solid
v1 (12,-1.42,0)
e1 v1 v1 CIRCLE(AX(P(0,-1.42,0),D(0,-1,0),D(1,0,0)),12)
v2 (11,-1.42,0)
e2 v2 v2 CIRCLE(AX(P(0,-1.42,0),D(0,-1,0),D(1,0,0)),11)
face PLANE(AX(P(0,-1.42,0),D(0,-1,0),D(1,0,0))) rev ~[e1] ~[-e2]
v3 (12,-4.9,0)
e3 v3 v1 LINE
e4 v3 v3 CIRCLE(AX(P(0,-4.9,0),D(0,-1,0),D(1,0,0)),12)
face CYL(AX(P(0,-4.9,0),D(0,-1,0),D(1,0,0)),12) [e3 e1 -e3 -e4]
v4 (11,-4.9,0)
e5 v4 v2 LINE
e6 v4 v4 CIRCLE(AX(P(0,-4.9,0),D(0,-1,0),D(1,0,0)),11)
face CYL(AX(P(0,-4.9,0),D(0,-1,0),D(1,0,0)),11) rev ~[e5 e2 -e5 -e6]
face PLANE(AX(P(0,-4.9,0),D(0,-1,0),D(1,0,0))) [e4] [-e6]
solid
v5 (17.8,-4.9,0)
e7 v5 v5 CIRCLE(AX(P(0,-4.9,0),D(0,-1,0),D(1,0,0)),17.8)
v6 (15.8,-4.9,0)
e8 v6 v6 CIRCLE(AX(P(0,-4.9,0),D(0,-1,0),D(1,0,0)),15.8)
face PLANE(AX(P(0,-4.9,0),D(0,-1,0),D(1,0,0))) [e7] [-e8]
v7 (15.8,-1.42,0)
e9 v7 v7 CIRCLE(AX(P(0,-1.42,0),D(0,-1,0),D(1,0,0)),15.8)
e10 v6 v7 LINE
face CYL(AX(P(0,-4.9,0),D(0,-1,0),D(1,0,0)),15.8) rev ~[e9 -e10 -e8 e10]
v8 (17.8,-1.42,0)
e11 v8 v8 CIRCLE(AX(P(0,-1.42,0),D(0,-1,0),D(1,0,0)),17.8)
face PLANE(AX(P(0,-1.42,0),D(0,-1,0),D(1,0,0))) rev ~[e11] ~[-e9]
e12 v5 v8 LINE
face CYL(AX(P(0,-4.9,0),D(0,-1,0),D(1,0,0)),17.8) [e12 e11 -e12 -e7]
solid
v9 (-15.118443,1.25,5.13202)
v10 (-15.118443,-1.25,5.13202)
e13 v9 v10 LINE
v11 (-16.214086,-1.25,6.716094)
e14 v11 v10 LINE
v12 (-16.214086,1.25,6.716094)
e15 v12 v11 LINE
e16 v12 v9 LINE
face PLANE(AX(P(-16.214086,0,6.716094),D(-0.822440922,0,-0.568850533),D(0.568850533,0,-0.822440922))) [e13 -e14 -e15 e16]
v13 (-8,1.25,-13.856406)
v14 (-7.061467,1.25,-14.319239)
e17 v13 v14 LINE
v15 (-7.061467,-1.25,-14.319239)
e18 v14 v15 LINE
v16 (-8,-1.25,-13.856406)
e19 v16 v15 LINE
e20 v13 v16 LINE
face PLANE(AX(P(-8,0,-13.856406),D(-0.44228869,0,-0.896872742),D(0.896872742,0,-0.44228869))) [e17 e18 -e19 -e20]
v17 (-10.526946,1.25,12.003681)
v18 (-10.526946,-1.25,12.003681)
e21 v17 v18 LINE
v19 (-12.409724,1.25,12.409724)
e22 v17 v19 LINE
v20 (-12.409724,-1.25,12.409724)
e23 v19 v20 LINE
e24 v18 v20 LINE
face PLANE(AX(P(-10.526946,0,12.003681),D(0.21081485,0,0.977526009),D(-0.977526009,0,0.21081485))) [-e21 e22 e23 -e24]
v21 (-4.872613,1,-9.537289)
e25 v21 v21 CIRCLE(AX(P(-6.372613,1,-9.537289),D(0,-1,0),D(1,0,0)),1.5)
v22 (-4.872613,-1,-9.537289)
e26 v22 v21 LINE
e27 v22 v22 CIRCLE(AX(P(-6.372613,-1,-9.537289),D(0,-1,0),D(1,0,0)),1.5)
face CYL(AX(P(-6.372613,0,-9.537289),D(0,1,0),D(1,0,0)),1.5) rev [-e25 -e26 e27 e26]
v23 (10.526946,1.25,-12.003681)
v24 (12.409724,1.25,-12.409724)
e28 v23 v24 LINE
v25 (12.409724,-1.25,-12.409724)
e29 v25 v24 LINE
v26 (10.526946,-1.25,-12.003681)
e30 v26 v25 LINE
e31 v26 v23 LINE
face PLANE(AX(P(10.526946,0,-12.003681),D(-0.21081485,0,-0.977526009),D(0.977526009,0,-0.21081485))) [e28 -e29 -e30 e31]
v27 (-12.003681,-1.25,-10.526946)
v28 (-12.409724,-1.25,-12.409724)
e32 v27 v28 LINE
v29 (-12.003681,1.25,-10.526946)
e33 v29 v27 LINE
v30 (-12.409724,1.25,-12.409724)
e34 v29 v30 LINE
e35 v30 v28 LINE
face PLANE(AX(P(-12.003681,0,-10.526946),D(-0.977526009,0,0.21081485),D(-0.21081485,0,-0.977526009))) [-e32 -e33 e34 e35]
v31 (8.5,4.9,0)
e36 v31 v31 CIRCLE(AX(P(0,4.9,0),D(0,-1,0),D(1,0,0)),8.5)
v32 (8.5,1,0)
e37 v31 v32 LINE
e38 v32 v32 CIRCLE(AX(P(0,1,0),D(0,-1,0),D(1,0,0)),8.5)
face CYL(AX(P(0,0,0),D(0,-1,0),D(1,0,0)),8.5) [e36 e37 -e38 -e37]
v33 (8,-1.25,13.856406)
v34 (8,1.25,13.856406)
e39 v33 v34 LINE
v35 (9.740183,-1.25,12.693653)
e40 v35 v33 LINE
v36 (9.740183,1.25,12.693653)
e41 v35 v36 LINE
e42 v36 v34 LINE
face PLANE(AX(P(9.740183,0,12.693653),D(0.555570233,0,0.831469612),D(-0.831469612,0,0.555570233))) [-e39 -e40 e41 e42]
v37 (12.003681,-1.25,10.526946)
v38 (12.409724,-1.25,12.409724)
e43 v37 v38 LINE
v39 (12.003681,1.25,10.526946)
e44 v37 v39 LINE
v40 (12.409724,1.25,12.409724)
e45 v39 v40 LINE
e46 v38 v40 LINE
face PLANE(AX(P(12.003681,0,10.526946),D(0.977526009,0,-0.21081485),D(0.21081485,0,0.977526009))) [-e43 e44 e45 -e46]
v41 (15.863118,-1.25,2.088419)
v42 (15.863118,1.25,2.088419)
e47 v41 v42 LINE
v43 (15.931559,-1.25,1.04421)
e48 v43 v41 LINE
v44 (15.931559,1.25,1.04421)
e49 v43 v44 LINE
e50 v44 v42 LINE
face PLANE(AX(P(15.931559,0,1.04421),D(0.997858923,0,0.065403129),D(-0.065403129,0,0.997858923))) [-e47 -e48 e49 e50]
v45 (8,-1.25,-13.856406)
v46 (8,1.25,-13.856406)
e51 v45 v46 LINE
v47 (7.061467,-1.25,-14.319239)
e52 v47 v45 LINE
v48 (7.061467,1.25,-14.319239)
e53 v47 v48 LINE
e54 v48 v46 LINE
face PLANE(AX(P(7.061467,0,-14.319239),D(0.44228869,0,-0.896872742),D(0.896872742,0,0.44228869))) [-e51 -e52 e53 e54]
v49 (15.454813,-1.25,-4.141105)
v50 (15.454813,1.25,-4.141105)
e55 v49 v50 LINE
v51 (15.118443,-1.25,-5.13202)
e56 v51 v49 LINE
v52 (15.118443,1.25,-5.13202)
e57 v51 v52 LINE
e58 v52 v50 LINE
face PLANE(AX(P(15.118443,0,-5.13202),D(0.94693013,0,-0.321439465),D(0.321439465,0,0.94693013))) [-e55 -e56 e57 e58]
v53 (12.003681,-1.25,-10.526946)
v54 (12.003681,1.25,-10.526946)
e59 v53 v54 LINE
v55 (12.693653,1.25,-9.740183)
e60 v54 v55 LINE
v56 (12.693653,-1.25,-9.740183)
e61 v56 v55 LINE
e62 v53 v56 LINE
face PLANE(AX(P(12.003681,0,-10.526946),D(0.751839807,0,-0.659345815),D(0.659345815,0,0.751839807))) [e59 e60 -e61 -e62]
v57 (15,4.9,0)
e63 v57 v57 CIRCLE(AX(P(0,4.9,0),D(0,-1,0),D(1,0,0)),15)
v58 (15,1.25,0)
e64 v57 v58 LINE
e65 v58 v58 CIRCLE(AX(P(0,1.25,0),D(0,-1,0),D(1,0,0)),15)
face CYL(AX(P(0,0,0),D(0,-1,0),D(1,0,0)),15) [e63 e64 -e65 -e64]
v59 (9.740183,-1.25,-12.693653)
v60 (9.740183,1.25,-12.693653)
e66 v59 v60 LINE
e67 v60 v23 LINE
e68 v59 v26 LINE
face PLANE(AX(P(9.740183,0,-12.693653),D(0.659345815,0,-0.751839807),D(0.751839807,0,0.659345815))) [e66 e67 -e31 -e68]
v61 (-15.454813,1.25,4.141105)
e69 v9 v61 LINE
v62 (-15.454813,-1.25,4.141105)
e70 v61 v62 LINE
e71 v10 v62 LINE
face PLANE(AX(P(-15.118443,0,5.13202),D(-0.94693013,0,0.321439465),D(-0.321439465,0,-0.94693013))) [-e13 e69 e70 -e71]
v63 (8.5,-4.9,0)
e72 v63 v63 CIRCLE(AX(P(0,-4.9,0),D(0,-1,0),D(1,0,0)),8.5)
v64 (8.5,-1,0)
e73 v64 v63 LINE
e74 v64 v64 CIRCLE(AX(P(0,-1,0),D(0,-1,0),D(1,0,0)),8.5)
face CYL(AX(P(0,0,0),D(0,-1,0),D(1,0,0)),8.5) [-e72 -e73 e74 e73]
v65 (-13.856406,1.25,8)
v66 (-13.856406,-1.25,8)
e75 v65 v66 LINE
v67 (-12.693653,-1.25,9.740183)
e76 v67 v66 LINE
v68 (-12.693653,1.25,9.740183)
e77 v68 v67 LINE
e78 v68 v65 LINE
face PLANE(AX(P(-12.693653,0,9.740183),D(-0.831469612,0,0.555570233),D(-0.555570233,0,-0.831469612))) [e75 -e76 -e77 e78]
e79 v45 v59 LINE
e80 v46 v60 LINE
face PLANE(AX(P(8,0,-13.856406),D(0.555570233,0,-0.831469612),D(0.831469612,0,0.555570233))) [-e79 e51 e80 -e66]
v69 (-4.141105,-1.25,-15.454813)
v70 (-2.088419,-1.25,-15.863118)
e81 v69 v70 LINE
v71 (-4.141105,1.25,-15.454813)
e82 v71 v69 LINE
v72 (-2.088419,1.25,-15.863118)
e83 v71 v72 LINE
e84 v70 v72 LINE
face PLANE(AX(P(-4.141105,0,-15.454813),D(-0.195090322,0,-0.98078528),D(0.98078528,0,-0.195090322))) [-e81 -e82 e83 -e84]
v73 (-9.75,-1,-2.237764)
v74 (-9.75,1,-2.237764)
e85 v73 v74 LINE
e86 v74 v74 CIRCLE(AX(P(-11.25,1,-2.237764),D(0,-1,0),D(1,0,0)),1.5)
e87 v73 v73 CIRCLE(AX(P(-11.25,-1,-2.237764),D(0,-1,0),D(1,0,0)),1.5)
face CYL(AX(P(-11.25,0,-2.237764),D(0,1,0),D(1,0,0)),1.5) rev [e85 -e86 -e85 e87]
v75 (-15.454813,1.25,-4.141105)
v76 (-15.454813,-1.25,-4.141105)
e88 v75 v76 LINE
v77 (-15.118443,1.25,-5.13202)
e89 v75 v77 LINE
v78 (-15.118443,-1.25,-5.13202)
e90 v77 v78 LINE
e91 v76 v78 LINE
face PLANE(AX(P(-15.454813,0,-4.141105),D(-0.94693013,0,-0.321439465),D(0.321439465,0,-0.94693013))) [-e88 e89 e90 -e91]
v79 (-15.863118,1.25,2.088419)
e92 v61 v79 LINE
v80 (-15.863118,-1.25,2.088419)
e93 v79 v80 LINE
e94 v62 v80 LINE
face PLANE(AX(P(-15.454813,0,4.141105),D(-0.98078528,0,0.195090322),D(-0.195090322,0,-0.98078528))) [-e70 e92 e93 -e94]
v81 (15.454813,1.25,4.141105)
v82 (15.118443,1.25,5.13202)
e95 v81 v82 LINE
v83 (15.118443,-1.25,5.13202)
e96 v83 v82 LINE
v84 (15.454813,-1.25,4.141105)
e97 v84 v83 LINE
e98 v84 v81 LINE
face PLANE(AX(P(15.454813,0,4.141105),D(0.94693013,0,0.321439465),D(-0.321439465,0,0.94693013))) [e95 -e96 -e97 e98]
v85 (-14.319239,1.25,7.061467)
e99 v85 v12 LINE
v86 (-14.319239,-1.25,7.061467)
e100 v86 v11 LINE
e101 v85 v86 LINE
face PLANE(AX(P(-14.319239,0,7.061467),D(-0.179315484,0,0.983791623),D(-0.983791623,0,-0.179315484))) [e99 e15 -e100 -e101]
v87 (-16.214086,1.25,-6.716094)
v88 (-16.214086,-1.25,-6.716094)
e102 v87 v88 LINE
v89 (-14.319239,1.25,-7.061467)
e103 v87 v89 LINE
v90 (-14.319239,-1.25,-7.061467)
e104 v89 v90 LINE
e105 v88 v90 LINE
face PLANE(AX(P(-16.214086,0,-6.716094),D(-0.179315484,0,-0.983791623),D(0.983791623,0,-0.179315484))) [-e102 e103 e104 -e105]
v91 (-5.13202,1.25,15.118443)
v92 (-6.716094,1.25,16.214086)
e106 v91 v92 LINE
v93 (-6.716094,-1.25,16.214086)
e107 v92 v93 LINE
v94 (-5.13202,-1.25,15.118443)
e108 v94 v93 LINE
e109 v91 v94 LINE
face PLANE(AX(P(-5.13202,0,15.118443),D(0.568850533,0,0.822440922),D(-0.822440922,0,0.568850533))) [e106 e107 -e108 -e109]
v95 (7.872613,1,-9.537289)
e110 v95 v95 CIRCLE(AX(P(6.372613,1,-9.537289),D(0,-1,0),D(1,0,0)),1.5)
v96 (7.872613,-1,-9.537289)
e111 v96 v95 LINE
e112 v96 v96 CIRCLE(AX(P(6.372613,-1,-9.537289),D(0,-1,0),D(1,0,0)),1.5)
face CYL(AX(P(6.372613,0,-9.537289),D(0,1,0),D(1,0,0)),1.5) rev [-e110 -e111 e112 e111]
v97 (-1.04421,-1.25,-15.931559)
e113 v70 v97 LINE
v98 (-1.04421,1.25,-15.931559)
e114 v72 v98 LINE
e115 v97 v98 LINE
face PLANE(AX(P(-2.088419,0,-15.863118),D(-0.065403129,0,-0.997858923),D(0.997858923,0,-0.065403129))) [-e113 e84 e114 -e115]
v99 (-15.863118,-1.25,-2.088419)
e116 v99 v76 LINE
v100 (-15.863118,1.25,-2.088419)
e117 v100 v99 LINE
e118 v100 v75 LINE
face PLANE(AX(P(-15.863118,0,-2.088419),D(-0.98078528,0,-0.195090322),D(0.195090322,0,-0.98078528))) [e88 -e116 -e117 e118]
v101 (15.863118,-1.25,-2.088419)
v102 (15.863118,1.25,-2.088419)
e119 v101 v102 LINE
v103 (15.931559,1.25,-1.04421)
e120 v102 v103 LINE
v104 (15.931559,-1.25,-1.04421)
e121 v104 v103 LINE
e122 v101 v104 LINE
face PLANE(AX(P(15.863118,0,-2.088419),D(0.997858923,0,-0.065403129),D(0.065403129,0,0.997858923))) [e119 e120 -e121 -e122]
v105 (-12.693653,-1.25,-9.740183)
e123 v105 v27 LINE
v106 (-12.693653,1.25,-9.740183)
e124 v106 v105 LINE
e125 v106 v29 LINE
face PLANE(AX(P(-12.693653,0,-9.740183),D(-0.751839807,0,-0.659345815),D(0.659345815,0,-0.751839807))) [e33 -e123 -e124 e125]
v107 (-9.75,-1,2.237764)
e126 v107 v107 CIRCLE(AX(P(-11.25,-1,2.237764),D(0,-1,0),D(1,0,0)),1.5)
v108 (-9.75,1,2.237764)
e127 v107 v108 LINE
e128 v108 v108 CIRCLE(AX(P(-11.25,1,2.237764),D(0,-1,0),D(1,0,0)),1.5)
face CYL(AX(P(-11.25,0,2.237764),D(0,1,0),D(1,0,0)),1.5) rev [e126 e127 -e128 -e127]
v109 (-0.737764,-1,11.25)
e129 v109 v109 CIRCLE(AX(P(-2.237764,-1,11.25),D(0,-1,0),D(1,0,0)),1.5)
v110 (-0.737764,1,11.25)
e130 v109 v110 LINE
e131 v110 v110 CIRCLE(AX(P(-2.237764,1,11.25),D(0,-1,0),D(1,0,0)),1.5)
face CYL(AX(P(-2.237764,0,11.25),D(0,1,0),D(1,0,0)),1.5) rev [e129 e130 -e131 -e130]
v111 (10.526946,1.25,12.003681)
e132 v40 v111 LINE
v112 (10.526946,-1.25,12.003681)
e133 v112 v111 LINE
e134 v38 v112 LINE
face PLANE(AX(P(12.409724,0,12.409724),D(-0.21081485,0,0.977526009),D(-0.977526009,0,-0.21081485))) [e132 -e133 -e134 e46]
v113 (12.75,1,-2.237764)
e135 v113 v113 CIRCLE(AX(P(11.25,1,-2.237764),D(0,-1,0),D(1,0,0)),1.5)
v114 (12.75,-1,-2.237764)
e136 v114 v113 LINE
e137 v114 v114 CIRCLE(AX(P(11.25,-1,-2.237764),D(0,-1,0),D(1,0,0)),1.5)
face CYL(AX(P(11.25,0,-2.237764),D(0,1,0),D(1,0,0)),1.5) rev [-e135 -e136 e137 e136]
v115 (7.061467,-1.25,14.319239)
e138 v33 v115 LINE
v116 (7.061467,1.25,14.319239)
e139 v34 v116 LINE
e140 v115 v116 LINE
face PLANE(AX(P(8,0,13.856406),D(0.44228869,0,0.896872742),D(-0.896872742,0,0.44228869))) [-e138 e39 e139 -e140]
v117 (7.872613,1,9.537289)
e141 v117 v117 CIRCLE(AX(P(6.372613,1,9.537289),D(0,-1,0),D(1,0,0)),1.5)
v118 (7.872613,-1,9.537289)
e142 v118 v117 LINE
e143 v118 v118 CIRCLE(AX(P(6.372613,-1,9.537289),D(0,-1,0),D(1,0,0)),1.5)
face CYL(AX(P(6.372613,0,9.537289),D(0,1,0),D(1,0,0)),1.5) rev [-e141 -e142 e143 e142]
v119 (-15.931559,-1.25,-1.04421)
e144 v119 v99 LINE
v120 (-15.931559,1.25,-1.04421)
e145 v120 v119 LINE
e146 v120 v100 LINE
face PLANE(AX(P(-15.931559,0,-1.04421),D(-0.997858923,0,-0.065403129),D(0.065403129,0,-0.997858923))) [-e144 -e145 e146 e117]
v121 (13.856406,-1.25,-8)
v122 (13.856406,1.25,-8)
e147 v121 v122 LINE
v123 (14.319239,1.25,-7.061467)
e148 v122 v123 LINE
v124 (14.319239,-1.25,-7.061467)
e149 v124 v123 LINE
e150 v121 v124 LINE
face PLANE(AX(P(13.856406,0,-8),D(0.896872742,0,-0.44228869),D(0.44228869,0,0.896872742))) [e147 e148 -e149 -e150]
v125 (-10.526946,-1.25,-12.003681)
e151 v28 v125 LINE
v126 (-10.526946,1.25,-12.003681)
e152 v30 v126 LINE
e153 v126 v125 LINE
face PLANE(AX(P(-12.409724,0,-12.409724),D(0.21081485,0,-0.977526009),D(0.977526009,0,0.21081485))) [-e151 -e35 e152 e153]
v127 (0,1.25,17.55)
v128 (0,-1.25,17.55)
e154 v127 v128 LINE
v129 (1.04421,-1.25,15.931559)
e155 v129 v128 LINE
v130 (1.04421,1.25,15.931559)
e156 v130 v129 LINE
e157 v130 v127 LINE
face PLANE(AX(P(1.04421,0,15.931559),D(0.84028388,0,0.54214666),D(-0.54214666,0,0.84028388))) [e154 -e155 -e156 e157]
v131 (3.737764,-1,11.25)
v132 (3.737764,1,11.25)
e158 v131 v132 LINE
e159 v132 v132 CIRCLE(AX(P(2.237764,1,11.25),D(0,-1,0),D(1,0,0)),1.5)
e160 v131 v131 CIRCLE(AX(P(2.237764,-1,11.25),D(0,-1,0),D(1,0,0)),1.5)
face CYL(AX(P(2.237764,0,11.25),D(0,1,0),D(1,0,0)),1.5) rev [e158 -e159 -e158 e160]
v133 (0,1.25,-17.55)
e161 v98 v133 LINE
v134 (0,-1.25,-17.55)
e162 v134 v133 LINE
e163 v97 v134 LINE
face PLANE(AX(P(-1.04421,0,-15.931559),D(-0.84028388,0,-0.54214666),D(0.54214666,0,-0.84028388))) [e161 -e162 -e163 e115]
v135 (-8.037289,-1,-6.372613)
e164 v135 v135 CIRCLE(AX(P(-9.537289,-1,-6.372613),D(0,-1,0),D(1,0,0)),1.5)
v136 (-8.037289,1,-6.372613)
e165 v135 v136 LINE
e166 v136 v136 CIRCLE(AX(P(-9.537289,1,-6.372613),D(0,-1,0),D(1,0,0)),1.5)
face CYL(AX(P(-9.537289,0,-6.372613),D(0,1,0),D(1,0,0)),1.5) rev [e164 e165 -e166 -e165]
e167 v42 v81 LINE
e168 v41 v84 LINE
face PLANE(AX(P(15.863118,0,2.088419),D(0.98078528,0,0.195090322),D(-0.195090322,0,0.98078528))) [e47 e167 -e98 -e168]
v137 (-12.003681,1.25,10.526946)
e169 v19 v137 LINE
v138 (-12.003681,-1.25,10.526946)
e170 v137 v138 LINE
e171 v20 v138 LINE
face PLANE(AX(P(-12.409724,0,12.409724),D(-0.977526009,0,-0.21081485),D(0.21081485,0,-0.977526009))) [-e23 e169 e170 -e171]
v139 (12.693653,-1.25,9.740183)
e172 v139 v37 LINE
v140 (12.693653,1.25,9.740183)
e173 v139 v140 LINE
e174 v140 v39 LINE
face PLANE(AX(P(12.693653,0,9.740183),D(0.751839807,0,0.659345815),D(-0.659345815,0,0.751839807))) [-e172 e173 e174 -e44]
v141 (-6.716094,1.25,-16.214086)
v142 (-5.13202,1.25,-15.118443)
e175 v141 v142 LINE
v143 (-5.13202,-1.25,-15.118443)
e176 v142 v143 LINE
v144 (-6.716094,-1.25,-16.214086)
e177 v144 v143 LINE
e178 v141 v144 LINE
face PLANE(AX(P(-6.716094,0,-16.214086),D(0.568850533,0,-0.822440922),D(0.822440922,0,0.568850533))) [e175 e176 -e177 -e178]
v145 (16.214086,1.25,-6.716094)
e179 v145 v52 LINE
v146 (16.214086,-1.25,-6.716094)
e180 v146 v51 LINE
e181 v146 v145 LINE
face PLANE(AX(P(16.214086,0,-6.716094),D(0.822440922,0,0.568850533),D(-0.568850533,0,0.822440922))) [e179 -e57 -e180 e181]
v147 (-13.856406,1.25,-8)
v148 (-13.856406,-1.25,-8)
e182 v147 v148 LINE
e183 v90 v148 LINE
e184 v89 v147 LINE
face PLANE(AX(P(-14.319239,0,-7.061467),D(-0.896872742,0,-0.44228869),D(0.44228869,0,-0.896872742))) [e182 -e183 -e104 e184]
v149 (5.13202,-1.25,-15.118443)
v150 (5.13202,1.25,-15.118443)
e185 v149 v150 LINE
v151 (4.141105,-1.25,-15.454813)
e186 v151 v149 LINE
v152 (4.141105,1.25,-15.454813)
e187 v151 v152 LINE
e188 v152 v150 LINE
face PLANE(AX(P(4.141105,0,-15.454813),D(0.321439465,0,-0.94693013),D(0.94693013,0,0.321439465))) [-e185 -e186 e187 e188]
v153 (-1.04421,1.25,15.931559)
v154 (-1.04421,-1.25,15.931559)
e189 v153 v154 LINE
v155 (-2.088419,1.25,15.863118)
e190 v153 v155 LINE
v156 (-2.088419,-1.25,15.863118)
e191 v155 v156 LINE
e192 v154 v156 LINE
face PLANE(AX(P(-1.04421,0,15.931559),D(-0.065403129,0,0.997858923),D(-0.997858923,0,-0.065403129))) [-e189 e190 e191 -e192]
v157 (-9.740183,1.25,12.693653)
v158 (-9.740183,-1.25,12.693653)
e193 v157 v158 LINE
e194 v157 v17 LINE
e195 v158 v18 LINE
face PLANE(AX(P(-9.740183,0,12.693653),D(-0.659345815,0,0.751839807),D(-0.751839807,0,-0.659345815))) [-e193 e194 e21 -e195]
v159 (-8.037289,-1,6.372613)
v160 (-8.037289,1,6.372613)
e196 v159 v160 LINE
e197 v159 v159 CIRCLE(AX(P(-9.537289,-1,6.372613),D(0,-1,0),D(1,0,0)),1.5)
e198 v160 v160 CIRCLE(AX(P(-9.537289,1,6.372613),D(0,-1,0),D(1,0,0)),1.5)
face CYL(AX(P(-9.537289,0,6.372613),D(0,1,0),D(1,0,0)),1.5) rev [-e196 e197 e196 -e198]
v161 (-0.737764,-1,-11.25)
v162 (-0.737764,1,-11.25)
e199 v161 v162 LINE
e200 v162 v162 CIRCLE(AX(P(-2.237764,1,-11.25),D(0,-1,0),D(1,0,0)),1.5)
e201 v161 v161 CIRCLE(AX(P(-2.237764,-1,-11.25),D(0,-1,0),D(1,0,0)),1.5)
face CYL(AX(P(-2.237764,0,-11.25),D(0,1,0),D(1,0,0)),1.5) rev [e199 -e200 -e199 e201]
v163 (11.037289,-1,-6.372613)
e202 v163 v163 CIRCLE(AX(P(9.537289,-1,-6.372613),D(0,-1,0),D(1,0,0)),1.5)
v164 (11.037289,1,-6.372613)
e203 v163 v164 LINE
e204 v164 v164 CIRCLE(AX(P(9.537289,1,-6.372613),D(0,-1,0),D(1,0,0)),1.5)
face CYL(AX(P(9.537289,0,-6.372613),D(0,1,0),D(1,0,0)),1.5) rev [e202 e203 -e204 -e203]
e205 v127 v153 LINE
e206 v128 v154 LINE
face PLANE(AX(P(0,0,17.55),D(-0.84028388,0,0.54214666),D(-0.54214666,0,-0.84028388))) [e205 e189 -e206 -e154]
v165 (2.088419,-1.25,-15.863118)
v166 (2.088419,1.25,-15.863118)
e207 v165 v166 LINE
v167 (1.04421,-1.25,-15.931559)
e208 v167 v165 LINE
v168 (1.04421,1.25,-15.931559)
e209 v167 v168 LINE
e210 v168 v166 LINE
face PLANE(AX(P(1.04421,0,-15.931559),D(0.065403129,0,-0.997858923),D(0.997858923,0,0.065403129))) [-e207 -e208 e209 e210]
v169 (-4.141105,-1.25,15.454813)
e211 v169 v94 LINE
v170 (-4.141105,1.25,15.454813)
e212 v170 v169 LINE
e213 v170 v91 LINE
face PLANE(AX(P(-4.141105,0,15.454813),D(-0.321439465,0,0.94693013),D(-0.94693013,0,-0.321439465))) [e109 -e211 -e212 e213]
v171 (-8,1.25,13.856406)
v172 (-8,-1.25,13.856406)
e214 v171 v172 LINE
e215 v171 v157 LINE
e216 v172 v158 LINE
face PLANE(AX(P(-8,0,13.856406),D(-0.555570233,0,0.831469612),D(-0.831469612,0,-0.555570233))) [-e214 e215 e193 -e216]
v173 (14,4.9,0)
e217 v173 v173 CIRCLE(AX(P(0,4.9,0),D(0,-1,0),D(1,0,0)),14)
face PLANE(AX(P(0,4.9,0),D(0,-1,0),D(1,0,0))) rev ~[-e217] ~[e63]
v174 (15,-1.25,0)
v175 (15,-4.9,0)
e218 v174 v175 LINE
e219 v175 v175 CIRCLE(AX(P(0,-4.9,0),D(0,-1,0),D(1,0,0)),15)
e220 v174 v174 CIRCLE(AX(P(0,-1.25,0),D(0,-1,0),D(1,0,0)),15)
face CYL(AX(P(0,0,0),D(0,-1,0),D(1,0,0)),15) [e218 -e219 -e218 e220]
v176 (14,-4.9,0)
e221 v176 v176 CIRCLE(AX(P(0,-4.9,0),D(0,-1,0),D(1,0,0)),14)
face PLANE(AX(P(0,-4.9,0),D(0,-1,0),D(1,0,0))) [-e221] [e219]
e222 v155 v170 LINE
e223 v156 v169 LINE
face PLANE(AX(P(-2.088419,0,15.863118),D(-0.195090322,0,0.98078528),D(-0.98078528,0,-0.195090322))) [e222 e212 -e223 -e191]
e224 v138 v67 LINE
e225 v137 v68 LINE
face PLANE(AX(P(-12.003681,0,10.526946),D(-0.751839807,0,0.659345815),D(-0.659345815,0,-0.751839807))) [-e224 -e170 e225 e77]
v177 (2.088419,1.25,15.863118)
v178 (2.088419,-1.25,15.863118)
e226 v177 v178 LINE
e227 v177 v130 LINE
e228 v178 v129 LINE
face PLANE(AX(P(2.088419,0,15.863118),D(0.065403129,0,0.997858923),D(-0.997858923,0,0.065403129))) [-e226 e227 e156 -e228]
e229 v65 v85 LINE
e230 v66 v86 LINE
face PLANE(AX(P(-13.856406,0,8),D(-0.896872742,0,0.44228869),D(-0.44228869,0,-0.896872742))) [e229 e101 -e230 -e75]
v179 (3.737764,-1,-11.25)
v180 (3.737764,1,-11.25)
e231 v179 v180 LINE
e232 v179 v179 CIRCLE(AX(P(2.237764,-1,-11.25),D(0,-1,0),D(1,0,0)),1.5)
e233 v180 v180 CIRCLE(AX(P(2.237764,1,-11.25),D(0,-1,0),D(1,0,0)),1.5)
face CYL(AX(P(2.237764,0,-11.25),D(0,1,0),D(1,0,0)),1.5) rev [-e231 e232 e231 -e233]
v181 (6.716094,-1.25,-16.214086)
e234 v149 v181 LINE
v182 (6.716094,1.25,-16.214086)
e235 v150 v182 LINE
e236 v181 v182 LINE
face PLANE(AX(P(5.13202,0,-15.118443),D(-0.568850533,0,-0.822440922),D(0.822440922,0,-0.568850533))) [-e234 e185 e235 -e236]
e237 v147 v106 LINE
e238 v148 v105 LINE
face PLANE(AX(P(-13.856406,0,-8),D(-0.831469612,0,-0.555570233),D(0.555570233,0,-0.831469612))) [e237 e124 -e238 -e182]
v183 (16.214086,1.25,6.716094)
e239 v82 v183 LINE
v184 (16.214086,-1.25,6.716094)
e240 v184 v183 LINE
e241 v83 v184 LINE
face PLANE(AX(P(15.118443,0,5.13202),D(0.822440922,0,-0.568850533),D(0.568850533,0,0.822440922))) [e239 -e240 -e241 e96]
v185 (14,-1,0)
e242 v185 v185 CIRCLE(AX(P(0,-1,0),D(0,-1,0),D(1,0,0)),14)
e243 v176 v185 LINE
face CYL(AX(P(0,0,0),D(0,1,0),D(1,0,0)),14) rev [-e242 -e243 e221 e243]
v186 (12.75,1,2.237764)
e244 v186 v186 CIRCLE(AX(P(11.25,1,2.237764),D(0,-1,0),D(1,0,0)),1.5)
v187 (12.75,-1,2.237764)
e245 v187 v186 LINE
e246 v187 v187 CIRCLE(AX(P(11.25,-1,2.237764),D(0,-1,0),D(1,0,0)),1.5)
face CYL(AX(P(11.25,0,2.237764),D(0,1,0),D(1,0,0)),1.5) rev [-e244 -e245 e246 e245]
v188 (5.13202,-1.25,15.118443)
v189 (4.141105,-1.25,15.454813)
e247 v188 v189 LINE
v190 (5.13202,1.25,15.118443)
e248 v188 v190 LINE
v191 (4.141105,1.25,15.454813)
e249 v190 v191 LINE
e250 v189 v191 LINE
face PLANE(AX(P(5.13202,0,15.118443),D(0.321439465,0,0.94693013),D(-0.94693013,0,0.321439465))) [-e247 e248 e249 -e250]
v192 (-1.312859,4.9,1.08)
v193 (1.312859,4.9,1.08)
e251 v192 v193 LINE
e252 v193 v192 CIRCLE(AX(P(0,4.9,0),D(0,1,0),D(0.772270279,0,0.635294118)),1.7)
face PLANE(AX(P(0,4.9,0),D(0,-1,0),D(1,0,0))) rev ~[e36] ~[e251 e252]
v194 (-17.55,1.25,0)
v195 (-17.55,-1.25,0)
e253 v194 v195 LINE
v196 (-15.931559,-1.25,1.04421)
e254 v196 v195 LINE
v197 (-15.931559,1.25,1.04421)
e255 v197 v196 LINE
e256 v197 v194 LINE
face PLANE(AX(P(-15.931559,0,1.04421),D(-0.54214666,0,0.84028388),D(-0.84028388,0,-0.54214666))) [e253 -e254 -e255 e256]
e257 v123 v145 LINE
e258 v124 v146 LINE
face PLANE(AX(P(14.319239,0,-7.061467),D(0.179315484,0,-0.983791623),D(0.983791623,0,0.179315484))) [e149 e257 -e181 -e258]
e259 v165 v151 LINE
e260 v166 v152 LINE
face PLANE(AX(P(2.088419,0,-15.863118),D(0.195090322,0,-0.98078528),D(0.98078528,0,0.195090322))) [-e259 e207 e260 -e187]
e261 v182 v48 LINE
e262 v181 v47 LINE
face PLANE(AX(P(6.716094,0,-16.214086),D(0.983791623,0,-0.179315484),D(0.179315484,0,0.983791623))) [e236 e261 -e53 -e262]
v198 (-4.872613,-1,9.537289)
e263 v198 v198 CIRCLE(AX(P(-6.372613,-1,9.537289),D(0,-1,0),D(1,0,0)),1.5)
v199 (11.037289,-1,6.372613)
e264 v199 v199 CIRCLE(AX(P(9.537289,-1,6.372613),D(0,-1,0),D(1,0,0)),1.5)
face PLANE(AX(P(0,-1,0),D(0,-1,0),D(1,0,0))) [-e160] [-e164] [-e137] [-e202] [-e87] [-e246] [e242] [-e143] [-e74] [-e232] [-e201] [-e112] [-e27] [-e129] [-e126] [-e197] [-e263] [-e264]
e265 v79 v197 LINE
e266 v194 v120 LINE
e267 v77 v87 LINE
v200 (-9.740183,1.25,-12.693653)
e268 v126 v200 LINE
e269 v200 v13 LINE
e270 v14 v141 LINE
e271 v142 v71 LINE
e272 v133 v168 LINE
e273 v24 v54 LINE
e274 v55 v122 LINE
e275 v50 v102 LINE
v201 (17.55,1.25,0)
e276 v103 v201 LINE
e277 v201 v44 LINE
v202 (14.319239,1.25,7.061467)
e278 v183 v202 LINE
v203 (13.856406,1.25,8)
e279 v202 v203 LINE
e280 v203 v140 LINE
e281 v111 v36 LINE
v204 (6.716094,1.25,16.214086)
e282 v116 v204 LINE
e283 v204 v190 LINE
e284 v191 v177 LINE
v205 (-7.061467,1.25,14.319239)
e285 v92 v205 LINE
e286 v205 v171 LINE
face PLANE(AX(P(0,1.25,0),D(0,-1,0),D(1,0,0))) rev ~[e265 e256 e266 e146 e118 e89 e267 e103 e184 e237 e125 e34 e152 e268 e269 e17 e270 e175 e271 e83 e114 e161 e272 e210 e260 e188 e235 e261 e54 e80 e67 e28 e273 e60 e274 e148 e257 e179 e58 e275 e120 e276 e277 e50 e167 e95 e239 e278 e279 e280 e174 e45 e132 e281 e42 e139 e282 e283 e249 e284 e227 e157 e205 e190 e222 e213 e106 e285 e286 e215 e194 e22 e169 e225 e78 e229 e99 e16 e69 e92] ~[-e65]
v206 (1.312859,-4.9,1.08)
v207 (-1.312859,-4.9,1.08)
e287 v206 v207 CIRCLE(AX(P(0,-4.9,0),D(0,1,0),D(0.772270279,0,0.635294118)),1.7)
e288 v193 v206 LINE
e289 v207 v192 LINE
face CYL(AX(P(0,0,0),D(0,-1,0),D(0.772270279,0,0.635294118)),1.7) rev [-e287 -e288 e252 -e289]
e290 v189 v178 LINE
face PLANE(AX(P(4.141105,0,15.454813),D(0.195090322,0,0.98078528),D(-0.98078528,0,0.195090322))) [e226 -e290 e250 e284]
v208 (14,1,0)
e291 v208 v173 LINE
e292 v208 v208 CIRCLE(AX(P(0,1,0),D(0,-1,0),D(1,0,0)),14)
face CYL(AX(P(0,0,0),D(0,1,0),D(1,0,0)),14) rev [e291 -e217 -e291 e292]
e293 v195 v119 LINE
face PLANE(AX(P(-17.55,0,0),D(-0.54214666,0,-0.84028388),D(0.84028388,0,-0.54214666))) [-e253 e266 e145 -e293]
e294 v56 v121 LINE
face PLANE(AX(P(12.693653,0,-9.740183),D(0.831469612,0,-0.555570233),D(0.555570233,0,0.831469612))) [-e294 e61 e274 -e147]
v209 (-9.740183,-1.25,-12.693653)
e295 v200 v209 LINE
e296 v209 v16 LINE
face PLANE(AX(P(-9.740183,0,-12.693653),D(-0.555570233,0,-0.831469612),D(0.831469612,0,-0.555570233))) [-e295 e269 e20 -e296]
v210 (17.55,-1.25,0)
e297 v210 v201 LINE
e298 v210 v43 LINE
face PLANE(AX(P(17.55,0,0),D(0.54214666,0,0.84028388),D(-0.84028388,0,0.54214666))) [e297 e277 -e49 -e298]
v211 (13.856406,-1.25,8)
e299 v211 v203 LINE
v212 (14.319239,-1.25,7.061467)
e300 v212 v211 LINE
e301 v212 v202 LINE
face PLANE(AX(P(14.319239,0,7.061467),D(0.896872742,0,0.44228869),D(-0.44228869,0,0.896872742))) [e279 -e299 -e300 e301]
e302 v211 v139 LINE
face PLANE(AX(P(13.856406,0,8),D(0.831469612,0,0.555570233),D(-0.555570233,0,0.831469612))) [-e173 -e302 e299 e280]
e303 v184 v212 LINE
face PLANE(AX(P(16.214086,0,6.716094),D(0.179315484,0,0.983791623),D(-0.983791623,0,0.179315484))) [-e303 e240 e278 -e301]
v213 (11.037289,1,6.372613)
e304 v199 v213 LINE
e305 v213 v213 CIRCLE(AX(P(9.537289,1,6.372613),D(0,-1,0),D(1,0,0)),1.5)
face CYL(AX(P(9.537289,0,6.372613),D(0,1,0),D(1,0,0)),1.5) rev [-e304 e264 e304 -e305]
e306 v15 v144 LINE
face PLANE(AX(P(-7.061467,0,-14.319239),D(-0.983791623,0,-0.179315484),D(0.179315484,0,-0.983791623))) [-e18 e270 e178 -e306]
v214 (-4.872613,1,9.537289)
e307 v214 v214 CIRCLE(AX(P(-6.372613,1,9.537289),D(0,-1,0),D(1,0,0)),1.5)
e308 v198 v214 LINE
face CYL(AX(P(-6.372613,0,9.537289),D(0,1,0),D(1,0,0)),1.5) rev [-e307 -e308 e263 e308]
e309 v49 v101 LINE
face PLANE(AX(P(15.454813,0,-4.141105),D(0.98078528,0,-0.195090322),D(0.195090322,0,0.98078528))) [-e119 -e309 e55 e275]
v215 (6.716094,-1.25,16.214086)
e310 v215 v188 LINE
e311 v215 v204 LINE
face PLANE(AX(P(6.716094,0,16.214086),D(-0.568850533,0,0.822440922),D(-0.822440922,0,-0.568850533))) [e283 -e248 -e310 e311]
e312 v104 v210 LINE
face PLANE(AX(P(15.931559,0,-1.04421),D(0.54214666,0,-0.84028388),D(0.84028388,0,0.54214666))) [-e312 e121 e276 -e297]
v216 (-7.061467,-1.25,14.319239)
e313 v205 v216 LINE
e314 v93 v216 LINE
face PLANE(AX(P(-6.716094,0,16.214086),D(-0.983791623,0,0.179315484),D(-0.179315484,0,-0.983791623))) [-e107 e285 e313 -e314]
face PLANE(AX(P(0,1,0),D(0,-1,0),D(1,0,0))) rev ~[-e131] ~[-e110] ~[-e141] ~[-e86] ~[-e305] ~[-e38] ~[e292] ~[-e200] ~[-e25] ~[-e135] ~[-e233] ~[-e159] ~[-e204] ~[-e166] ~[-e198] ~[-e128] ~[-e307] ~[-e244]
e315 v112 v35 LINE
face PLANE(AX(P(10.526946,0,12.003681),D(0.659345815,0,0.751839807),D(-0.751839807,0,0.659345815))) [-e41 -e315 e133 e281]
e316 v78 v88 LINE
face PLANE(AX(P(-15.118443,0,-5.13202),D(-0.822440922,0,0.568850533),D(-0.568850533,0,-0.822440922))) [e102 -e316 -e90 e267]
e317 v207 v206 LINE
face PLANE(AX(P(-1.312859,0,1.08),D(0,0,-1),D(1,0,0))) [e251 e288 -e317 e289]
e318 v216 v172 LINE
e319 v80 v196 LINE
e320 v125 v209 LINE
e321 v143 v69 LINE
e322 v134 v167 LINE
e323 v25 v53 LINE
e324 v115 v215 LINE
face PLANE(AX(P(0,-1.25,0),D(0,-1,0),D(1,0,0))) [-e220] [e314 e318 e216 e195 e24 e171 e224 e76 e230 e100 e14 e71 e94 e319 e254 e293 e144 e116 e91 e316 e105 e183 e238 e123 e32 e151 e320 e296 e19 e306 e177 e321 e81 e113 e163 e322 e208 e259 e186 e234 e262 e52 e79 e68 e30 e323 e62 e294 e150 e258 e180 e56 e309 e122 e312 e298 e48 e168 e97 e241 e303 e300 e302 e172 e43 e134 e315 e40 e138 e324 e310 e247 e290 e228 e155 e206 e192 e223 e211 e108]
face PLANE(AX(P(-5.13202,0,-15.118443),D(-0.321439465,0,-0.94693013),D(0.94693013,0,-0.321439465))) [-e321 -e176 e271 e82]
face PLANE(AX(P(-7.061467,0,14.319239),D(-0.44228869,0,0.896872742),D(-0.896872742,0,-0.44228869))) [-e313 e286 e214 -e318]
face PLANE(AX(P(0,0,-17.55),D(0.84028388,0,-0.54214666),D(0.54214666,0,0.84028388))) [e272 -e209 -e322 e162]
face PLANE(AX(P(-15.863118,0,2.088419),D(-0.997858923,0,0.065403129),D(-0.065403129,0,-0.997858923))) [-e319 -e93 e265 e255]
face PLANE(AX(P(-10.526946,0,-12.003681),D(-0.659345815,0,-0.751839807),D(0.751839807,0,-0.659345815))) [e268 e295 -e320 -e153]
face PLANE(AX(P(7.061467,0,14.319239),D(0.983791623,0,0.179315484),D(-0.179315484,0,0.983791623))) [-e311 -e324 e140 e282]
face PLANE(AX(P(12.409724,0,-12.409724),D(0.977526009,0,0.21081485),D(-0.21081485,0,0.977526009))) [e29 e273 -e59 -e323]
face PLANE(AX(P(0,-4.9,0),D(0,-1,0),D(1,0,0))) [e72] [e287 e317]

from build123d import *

# Parameters (mm, degrees)
F0_R     = 15
F1_DEPTH = 1.25
F0_R_2   = 14
F2_DEPTH = 4.9
F0_R_3   = 1.5
F0_R_4   = 8.5
F3_DEPTH = 1
F4_DEPTH = 4.9
F5_R     = 17.8
F5_R_2   = 15.8
F6_DEPTH = 3.48
F5_R_3   = 12
F5_R_4   = 11


with BuildPart() as f1:
    # F0 (on Front) → F1 (new body, symmetric)
    with BuildSketch(Plane.XZ):
        Polygon((4.1411047216, 15.4548132206), (2.0884190755, 15.863117782), (1.0442095378, 15.931558891), (0, 17.55), (-1.0442095378, 15.931558891), (-2.0884190755, 15.863117782), (-4.1411047216, 15.4548132206), (-5.1320198197, 15.1184428704), (-6.716094238, 16.2140857956), (-7.0614674589, 14.3192394904), (-8, 13.8564064606), (-9.7401828641, 12.6936534447), (-10.5269456816, 12.0036809718), (-12.4097240098, 12.4097240098), (-12.0036809718, 10.5269456816), (-12.6936534447, 9.7401828641), (-13.8564064606, 8), (-14.3192394904, 7.0614674589), (-16.2140857956, 6.716094238), (-15.1184428704, 5.1320198197), (-15.4548132206, 4.1411047216), (-15.863117782, 2.0884190755), (-15.931558891, 1.0442095378), (-17.55, 0), (-15.931558891, -1.0442095378), (-15.863117782, -2.0884190755), (-15.4548132206, -4.1411047216), (-15.1184428704, -5.1320198197), (-16.2140857956, -6.716094238), (-14.3192394904, -7.0614674589), (-13.8564064606, -8), (-12.6936534447, -9.7401828641), (-12.0036809718, -10.5269456816), (-12.4097240098, -12.4097240098), (-10.5269456816, -12.0036809718), (-9.7401828641, -12.6936534447), (-8, -13.8564064606), (-7.0614674589, -14.3192394904), (-6.716094238, -16.2140857956), (-5.1320198197, -15.1184428704), (-4.1411047216, -15.4548132206), (-2.0884190755, -15.863117782), (-1.0442095378, -15.931558891), (0, -17.55), (1.0442095378, -15.931558891), (2.0884190755, -15.863117782), (4.1411047216, -15.4548132206), (5.1320198197, -15.1184428704), (6.716094238, -16.2140857956), (7.0614674589, -14.3192394904), (8, -13.8564064606), (9.7401828641, -12.6936534447), (10.5269456816, -12.0036809718), (12.4097240098, -12.4097240098), (12.0036809718, -10.5269456816), (12.6936534447, -9.7401828641), (13.8564064606, -8), (14.3192394904, -7.0614674589), (16.2140857956, -6.716094238), (15.1184428704, -5.1320198197), (15.4548132206, -4.1411047216), (15.863117782, -2.0884190755), (15.931558891, -1.0442095378), (17.55, 0), (15.931558891, 1.0442095378), (15.863117782, 2.0884190755), (15.4548132206, 4.1411047216), (15.1184428704, 5.1320198197), (16.2140857956, 6.716094238), (14.3192394904, 7.0614674589), (13.8564064606, 8), (12.6936534447, 9.7401828641), (12.0036809718, 10.5269456816), (12.4097240098, 12.4097240098), (10.5269456816, 12.0036809718), (9.7401828641, 12.6936534447), (8, 13.8564064606), (7.0614674589, 14.3192394904), (6.716094238, 16.2140857956), (5.1320198197, 15.1184428704), align=None)
        Circle(F0_R, mode=Mode.SUBTRACT)
    extrude(amount=F1_DEPTH, both=True)

    # F0 (on Front) → F2 (join, symmetric)
    with BuildSketch(Plane.XZ):
        Circle(F0_R)
        Circle(F0_R_2, mode=Mode.SUBTRACT)
    extrude(amount=F2_DEPTH, both=True)

    # F0 (on Front) → F3 (join, symmetric)
    with BuildSketch(Plane.XZ):
        Circle(F0_R_2)
        with Locations((-6.3726130952, -9.5372894815)):
            Circle(F0_R_3, mode=Mode.SUBTRACT)
        with Locations((-2.237764133, -11.25)):
            Circle(F0_R_3, mode=Mode.SUBTRACT)
        with Locations((-9.5372894815, -6.3726130952)):
            Circle(F0_R_3, mode=Mode.SUBTRACT)
        with Locations((-11.25, -2.237764133)):
            Circle(F0_R_3, mode=Mode.SUBTRACT)
        with Locations((2.237764133, -11.25)):
            Circle(F0_R_3, mode=Mode.SUBTRACT)
        with Locations((6.3726130952, -9.5372894815)):
            Circle(F0_R_3, mode=Mode.SUBTRACT)
        with Locations((9.5372894815, -6.3726130952)):
            Circle(F0_R_3, mode=Mode.SUBTRACT)
        with Locations((11.25, -2.237764133)):
            Circle(F0_R_3, mode=Mode.SUBTRACT)
        with Locations((-11.25, 2.237764133)):
            Circle(F0_R_3, mode=Mode.SUBTRACT)
        with Locations((-9.5372894815, 6.3726130952)):
            Circle(F0_R_3, mode=Mode.SUBTRACT)
        with Locations((-6.3726130952, 9.5372894815)):
            Circle(F0_R_3, mode=Mode.SUBTRACT)
        with Locations((-2.237764133, 11.25)):
            Circle(F0_R_3, mode=Mode.SUBTRACT)
        Circle(F0_R_4, mode=Mode.SUBTRACT)
        with Locations((11.25, 2.237764133)):
            Circle(F0_R_3, mode=Mode.SUBTRACT)
        with Locations((9.5372894815, 6.3726130952)):
            Circle(F0_R_3, mode=Mode.SUBTRACT)
        with Locations((2.237764133, 11.25)):
            Circle(F0_R_3, mode=Mode.SUBTRACT)
        with Locations((6.3726130952, 9.5372894815)):
            Circle(F0_R_3, mode=Mode.SUBTRACT)
    extrude(amount=F3_DEPTH, both=True)

    # F0 (on Front) → F4 (join, symmetric)
    with BuildSketch(Plane.XZ):
        Circle(F0_R_4)
        with BuildLine():
            ThreePointArc((1.3128594746, 1.08), (0, -1.7), (-1.3128594746, 1.08))
            Line((-1.3128594746, 1.08), (1.3128594746, 1.08))
        make_face(mode=Mode.SUBTRACT)
    extrude(amount=F4_DEPTH, both=True)


with BuildPart() as f6:
    # F5 (on face) → F6 (new body)
    with BuildSketch(Plane.XZ.offset(4.9)):
        Circle(F5_R)
        Circle(F5_R_2, mode=Mode.SUBTRACT)
    extrude(amount=-F6_DEPTH)


with BuildPart() as f6b:
    # F5 (on face) → F6, piece 2 (new body)
    with BuildSketch(Plane.XZ.offset(4.9)):
        Circle(F5_R_3)
        Circle(F5_R_4, mode=Mode.SUBTRACT)
    extrude(amount=-F6_DEPTH)


solid = Compound([f1.part, f6.part, f6b.part])
